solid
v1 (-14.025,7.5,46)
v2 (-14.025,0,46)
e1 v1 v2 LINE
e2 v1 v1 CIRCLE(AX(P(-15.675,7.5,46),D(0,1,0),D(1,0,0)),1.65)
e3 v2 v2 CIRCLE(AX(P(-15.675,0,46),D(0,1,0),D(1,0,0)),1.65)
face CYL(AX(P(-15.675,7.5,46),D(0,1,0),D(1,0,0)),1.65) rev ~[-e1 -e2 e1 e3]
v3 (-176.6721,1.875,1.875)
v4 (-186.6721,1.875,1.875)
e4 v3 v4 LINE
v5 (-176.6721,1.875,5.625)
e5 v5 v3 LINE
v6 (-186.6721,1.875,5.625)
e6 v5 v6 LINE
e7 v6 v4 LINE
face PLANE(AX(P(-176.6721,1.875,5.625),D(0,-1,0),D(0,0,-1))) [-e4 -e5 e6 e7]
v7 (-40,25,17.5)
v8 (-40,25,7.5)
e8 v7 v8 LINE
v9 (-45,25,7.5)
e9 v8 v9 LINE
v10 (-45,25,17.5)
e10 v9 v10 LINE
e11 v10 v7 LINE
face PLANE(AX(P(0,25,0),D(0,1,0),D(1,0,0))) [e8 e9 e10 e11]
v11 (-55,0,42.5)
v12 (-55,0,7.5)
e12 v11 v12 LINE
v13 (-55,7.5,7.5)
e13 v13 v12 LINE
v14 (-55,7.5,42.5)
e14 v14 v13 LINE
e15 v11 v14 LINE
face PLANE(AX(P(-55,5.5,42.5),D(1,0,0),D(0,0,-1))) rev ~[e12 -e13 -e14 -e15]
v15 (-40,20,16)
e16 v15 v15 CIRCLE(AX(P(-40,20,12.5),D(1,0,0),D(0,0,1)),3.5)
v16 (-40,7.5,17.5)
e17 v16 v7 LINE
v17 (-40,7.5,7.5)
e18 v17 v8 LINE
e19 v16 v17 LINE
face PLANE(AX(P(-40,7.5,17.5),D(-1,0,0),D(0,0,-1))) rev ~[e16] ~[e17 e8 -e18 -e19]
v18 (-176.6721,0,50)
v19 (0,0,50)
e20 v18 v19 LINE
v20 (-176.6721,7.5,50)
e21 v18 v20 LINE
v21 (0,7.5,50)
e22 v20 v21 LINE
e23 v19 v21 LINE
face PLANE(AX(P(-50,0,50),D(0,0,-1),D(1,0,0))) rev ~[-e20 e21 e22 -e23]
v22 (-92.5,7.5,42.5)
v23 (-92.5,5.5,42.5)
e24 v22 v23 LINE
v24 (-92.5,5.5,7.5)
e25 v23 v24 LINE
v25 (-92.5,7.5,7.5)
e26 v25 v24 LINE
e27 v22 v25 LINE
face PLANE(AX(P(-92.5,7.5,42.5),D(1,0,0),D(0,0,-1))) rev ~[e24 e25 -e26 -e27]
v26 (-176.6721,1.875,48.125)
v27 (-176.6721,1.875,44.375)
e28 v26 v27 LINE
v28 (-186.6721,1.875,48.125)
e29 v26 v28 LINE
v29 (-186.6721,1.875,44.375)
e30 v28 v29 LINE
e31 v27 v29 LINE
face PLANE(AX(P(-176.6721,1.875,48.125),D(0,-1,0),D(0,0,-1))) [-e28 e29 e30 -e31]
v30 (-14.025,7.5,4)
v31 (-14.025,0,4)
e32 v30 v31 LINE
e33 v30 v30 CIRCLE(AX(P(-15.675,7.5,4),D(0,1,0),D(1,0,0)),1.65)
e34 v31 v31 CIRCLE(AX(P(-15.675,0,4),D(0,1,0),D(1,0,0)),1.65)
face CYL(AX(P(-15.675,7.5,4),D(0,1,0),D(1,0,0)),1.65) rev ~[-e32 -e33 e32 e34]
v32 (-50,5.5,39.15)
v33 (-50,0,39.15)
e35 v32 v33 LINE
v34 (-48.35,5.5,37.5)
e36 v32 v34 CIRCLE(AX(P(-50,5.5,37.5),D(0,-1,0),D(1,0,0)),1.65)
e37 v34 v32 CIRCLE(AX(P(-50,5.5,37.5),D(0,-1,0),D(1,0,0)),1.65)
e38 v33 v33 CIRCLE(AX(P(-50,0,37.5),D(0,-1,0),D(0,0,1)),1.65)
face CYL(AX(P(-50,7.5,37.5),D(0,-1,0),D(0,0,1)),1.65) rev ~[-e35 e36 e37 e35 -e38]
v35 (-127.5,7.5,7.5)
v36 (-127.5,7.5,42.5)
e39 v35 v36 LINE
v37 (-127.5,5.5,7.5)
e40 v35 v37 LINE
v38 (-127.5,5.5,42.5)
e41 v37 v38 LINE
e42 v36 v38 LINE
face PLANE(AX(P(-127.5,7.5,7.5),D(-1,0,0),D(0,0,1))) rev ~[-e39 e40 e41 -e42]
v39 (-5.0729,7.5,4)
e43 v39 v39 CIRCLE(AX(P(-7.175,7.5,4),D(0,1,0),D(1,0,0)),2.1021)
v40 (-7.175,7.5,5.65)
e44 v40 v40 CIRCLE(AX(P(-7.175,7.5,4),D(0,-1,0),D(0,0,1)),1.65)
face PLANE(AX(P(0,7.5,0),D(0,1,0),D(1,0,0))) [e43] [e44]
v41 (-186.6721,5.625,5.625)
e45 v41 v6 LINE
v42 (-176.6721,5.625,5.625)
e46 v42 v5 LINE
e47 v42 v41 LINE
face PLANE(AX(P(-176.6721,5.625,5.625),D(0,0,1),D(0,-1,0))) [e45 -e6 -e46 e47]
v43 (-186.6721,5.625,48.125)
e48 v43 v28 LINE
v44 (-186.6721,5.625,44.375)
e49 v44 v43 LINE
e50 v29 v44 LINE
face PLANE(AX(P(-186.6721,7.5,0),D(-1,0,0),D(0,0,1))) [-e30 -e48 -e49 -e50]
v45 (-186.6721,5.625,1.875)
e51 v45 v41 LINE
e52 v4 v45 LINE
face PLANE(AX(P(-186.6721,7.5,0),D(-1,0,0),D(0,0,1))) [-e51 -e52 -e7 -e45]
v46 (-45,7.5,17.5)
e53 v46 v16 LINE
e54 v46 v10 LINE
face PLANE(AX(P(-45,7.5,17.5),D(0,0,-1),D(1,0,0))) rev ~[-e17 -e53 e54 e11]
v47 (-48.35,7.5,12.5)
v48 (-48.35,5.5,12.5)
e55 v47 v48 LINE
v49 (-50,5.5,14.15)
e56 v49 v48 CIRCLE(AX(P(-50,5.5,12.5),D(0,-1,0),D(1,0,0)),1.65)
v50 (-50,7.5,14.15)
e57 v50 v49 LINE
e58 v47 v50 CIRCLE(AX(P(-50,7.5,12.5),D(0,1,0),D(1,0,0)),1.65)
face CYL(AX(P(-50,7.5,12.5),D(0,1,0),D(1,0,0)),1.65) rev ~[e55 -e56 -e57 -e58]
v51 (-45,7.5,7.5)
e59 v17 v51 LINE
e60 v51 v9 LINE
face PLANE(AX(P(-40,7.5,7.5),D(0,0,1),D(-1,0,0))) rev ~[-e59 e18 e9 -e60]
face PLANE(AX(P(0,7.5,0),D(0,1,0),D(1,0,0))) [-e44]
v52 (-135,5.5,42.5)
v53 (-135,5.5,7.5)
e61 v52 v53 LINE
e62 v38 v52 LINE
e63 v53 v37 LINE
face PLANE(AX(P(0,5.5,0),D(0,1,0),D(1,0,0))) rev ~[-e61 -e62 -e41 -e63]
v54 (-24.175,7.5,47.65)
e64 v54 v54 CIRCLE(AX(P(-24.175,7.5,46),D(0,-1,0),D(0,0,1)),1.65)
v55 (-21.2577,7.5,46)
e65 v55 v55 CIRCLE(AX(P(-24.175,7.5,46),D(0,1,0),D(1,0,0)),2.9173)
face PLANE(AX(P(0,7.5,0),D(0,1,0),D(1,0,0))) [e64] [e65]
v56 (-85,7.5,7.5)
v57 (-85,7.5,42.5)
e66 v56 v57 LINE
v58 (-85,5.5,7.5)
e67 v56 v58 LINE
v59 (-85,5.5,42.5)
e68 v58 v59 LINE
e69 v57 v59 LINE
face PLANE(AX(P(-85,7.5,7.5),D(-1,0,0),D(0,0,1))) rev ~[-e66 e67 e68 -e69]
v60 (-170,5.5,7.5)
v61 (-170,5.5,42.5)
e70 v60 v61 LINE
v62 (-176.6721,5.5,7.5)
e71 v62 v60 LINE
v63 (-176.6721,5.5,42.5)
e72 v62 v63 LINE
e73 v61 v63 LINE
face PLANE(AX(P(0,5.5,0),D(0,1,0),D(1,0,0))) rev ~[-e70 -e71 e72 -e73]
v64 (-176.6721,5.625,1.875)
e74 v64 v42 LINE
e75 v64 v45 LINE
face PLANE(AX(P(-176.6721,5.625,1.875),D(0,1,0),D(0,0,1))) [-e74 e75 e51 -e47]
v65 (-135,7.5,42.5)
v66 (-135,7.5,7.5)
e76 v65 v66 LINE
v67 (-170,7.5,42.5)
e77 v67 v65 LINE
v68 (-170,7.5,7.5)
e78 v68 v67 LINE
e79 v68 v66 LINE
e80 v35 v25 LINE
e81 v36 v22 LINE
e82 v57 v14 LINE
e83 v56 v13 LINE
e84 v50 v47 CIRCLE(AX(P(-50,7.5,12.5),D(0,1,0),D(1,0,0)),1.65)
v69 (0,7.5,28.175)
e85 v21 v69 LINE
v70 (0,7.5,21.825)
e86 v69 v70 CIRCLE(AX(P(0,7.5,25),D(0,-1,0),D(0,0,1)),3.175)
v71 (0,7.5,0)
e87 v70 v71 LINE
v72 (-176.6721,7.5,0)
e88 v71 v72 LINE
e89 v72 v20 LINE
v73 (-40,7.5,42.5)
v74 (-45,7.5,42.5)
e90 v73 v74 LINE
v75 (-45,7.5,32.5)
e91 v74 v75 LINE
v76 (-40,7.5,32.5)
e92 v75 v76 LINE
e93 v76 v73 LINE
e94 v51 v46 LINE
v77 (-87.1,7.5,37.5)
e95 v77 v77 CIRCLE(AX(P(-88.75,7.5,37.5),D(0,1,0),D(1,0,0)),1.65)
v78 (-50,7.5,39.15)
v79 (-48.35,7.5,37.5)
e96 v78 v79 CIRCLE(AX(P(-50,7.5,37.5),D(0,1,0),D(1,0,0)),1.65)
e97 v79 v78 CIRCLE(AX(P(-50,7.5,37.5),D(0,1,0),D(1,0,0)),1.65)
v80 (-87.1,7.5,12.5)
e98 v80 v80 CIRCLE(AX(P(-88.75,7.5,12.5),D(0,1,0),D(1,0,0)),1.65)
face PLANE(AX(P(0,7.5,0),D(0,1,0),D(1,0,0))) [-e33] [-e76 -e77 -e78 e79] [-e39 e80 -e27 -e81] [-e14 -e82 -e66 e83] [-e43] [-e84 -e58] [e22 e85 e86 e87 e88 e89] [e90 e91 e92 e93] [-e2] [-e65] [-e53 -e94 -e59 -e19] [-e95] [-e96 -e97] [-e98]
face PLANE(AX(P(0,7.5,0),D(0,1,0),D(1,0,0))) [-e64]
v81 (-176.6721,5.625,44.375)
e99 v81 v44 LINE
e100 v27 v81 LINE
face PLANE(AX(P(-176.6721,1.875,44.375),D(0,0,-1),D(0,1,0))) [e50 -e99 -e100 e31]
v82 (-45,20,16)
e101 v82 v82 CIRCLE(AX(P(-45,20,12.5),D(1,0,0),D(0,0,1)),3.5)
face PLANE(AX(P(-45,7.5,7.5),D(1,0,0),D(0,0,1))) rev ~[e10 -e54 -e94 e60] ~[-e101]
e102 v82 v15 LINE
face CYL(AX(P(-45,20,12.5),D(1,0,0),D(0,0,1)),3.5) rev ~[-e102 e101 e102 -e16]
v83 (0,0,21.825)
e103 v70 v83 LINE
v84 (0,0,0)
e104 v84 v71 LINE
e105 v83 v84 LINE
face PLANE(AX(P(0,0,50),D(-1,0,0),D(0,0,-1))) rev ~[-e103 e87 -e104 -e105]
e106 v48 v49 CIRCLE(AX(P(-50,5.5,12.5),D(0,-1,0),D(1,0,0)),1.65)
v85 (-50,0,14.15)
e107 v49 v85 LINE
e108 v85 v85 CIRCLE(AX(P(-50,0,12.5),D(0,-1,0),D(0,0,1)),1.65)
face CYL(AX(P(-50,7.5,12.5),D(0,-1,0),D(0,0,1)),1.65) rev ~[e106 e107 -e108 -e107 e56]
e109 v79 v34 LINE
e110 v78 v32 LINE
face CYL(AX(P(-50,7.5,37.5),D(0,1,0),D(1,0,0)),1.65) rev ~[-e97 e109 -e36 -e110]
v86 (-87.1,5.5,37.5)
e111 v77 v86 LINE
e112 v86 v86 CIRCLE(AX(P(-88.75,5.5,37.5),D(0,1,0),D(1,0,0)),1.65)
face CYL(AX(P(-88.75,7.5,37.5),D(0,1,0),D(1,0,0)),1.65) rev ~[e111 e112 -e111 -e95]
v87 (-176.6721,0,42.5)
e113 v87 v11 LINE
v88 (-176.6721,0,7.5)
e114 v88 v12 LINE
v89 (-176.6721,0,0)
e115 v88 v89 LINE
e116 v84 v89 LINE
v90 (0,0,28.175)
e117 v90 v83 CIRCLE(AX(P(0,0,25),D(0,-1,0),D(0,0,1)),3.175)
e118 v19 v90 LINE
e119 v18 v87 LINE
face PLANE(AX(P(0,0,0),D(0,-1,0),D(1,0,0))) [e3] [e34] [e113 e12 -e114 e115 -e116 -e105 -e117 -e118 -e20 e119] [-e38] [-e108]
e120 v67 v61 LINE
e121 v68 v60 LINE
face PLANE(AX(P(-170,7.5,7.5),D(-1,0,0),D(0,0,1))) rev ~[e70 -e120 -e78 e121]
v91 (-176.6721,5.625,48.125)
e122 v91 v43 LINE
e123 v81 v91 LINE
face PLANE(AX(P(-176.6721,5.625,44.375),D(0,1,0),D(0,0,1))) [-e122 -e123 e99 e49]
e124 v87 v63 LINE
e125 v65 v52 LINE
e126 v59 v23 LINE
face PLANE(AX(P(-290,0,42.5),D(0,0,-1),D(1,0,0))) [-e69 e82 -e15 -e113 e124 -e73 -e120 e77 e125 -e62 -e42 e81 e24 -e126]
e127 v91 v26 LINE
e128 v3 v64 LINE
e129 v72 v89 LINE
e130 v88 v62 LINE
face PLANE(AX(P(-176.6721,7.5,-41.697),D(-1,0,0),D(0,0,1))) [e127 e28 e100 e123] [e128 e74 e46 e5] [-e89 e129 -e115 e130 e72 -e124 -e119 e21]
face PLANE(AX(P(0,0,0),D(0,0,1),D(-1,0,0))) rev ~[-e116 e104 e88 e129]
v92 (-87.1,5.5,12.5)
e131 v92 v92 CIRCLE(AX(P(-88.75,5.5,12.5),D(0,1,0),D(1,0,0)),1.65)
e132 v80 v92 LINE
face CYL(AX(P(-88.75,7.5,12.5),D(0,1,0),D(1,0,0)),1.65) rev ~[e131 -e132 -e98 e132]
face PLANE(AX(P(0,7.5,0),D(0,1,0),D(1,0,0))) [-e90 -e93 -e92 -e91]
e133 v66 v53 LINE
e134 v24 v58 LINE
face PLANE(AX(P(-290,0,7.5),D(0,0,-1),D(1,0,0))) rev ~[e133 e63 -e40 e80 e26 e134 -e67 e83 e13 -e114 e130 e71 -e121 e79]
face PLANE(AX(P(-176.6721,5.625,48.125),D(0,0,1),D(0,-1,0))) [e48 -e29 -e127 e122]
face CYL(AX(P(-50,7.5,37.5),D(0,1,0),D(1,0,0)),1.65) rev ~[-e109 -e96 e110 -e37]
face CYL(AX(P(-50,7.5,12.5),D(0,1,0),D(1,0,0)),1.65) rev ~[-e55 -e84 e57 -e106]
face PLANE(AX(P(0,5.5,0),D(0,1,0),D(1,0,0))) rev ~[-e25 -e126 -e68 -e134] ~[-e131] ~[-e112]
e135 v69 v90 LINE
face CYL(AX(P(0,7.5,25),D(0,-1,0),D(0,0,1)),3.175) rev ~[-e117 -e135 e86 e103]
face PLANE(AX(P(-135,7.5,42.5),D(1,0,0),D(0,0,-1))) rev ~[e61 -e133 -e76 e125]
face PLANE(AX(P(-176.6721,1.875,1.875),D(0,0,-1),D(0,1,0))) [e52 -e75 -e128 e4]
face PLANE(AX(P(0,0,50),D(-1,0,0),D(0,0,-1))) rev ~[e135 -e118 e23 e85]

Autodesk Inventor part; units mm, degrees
ref_plane "YZ Plane" through (0, 0, 0) normal (1, 0, 0) x (0, 1, 0)
ref_plane "XZ Plane" through (0, 0, 0) normal (0, 1, 0) x (-1, 0, 0)
ref_plane "XY Plane" through (0, 0, 0) normal (0, 0, 1) x (1, 0, 0)
sketch "Sketch1" plane through (0, 0, 0) normal (0, 1, 0) x (-1, 0, 0)
  line L0 (0, 0) -> (50, 0)
  line L1 (50, 0) -> (50, 50)
  line L2 (50, 50) -> (0, 50)
  line L3 (0, 50) -> (0, 0)
  line L4 (50, 50) -> (290, 50)
  line L5 (290, 50) -> (290, 42.5)
  line L6 (290, 42.5) -> (50, 42.5)
  line L7 (50, 42.5) -> (50, 50)
  line L8 (50, 0) -> (290, 0)
  line L9 (290, 0) -> (290, 7.5)
  line L10 (290, 7.5) -> (50, 7.5)
  line L11 (50, 7.5) -> (50, 0)
  dimension "d0" = 50
  dimension "d1" = 50
  dimension "d2" = 240
  dimension "d3" = 7.5
  dimension "d4" = 7.5
extrude "Extrusion1" add sketch "Sketch1" along normal blind 7.5
sketch "Sketch2" plane through (0, 7.5, 0) normal (0, 1, 0) x (1, 0, 0)
  line L0 (0, -50) -> (0, 0) projected
  point P0 (0, -25)
hole "Hole1" at (0, 7.5, 25) direction (0, -1, 0) diameter 6.35 end through all
sketch "Sketch3" plane through (0, 7.5, 0) normal (0, 1, 0) x (1, 0, 0)
  line L0 (-3.175, -50) -> (-3.175, 0) construction
  line L1 (-3.175, -50) -> (-28.175, -50) construction
  line L2 (-28.175, -50) -> (-28.175, 0) construction
  line L3 (-28.175, 0) -> (-3.175, 0) construction
  point P0 (0, 0)
  point P1 (-7.175, -4)
  point P2 (-24.175, -46)
  dimension "d14" = 25
hole "Hole2" at (-7.175, 7.5, 4) at (-24.175, 7.5, 46) direction (0, -1, 0) diameter 3.3 end through all
sketch "Sketch4" plane through (0, 7.5, 0) normal (0, 1, 0) x (1, 0, 0)
  arc A0 (0, -21.825) -> (0, -28.175) centre (0, -25) ccw construction
  line L0 (-3.175, -25) -> (-28.175, -25) construction
  line L1 (-3.175, -25) -> (21.825, -25) construction
  line L2 (-290, -50) -> (0, -50) construction
  line L3 (-28.175, -50) -> (-28.175, 0) construction
  line L4 (-50, -7.5) -> (-50, -42.5) construction
  line L5 (-50, -42.5) -> (-45, -42.5) construction
  line L6 (-45, -42.5) -> (-45, -32.5) construction
  line L7 (-45, -32.5) -> (-50, -32.5) construction
  line L8 (-50, -32.5) -> (-50, -42.5) construction
  line L9 (-45, -32.5) -> (-40, -32.5)
  line L10 (-40, -32.5) -> (-40, -42.5)
  line L11 (-40, -42.5) -> (-45, -42.5)
  line L12 (-45, -42.5) -> (-45, -32.5)
  point P0 (0, 0)
  dimension "d22" = 25
  dimension "d23" = 180
  dimension "d24" = 5
  dimension "d25" = 10
  dimension "d26" = 5
extrude "Extrusion2" add sketch "Sketch4" along normal blind 17.5
sketch "Sketch5" plane through (0, 7.5, 0) normal (0, 1, 0) x (1, 0, 0)
  line L0 (-85, -7.5) -> (-85, -42.5)
  line L1 (-127.5, -7.5) -> (-127.5, -42.5)
  line L2 (-92.5, -42.5) -> (-92.5, -7.5)
  line L3 (-135, -7.5) -> (-170, -7.5) construction
  line L4 (-170, -7.5) -> (-170, -42.5) construction
  line L5 (-170, -42.5) -> (-135, -42.5) construction
  line L6 (-135, -42.5) -> (-135, -7.5) construction
  line L7 (-177.5, -7.5) -> (-212.5, -7.5) construction
  line L8 (-212.5, -7.5) -> (-212.5, -42.5) construction
  line L9 (-212.5, -42.5) -> (-177.5, -42.5) construction
  line L10 (-177.5, -42.5) -> (-177.5, -7.5) construction
  line L11 (-220, -7.5) -> (-255, -7.5) construction
  line L12 (-255, -7.5) -> (-255, -42.5) construction
  line L13 (-255, -42.5) -> (-220, -42.5) construction
  line L14 (-220, -42.5) -> (-220, -7.5) construction
  line L15 (-85, -7.5) -> (-92.5, -7.5) construction
  line L16 (-92.5, -7.5) -> (-92.5, -42.5) construction
  line L17 (-92.5, -42.5) -> (-85, -42.5) construction
  line L18 (-85, -42.5) -> (-85, -7.5) construction
  line L19 (-127.5, -7.5) -> (-135, -7.5) construction
  line L20 (-135, -7.5) -> (-135, -42.5) construction
  line L21 (-135, -42.5) -> (-127.5, -42.5) construction
  line L22 (-127.5, -42.5) -> (-127.5, -7.5) construction
  line L23 (-170, -7.5) -> (-177.5, -7.5) construction
  line L24 (-177.5, -7.5) -> (-177.5, -42.5) construction
  line L25 (-177.5, -42.5) -> (-170, -42.5) construction
  line L26 (-170, -42.5) -> (-170, -7.5) construction
  line L27 (-212.5, -7.5) -> (-220, -7.5) construction
  line L28 (-220, -7.5) -> (-220, -42.5) construction
  line L29 (-220, -42.5) -> (-212.5, -42.5) construction
  line L30 (-212.5, -42.5) -> (-212.5, -7.5) construction
  line L31 (-220, -7.5) -> (-212.5, -7.5)
  line L32 (-212.5, -7.5) -> (-212.5, -42.5)
  line L33 (-212.5, -42.5) -> (-220, -42.5)
  line L34 (-220, -42.5) -> (-220, -7.5)
  line L35 (-177.5, -7.5) -> (-170, -7.5)
  line L36 (-170, -7.5) -> (-170, -42.5)
  line L37 (-170, -42.5) -> (-177.5, -42.5)
  line L38 (-177.5, -42.5) -> (-177.5, -7.5)
  line L39 (-135, -7.5) -> (-127.5, -7.5)
  line L40 (-127.5, -7.5) -> (-127.5, -42.5)
  line L41 (-127.5, -42.5) -> (-135, -42.5)
  line L42 (-135, -42.5) -> (-135, -7.5)
  line L43 (-92.5, -7.5) -> (-85, -7.5)
  line L44 (-85, -7.5) -> (-85, -42.5)
  line L45 (-85, -42.5) -> (-92.5, -42.5)
  line L46 (-92.5, -42.5) -> (-92.5, -7.5)
  point P0 (0, 0)
  point P1 (-50, -7.5)
  dimension "d30" = 35
  dimension "d31" = 35
  dimension "d32" = 35
  dimension "d33" = 35
  dimension "d34" = 35
  dimension "d35" = 35
extrude "Extrusion3" add sketch "Sketch5" against normal blind 2
sketch "Sketch6" plane through (0, 7.5, 0) normal (0, 1, 0) x (1, 0, 0)
  line L0 (-290, 0) -> (-290, -7.5) projected
  line L1 (-290, -50) -> (0, -50) projected
  line L2 (-290, 0) -> (-280, 0)
  line L3 (-280, 0) -> (-280, -50)
  line L4 (-280, -50) -> (-290, -50)
  line L5 (-290, -50) -> (-290, 0)
  point P0 (0, 0)
  dimension "d38" = 10
extrude "Extrusion4" cut sketch "Sketch6" against normal blind 7.5
sketch "Sketch7" plane through (-280, 7.5, 0) normal (-1, 0, 0) x (0, 0, 1)
  point P0 (0, -7.5)
sketch "Sketch8" plane through (-280, 7.5, 0) normal (-1, 0, 0) x (0, 0, 1)
  line L0 (-25, 0) -> (75, 0)
  line L1 (75, 0) -> (75, -7.5)
  line L2 (75, -7.5) -> (-25, -7.5)
  line L3 (-25, -7.5) -> (-25, 0)
  line L4 (-25, 0) -> (75, 0)
  line L5 (75, 0) -> (75, -10)
  line L6 (75, -10) -> (-25, -10)
  line L7 (-25, -10) -> (-25, 0)
  point P0 (0, -7.5)
  dimension "d41" = 100
  dimension "d42" = 10
extrude "Extrusion5" add sketch "Sketch8" along normal blind 7.5
sketch "Sketch9" plane through (-287.5, 7.5, 0) normal (-1, 0, 0) x (0, 0, 1)
  line L0 (75, 0) -> (-25, 0) projected
  line L1 (-25, -10) -> (75, -10) projected
  line L2 (-25, 0) -> (-17.5, 0)
  line L3 (-17.5, 0) -> (-17.5, -10)
  line L4 (-17.5, -10) -> (-25, -10)
  line L5 (-25, -10) -> (-25, 0)
  line L6 (75, 0) -> (67.5, 0)
  line L7 (67.5, 0) -> (67.5, -10)
  line L8 (67.5, -10) -> (75, -10)
  line L9 (75, -10) -> (75, 0)
  point P0 (0, -7.5)
  dimension "d45" = 7.5
  dimension "d46" = 7.5
extrude "Extrusion6" add sketch "Sketch9" along normal blind 25 contours L9 L1 L7 L0 | L3 L1 L5 L0
sketch "Sketch10" plane through (-287.5, -2.5, -17.5) normal (0, 0, 1) x (1, 0, 0)
  line L0 (0, 0) -> (-25, 0) construction
  line L1 (0, 0) -> (-3, 0) construction
  line L2 (-3, 0) -> (-6.2, 0)
  line L3 (-6.2, 0) -> (-6.2, 2.1)
  line L4 (-6.2, 2.1) -> (-3, 2.1)
  line L5 (-3, 2.1) -> (-3, 0)
  line L6 (-6.2, 2.1) -> (-11.7, 2.1) construction
  line L7 (-11.7, 2.1) -> (-11.7, 5.4) construction
  point P0 (287.5, 2.5)
  dimension "d49" = 3
  dimension "d50" = 3.2
  dimension "d51" = 2.1
  dimension "d52" = 5.5
  dimension "d53" = 3.3
extrude "Extrusion7" add sketch "Sketch10" along normal blind 92.5
sketch "Sketch11" plane through (-287.5, -2.5, -17.5) normal (0, 0, 1) x (1, 0, 0)
  line L0 (-6.2, 2.1) -> (-3, 2.1) construction
  line L1 (-6.2, 2.1) -> (-11.7, 2.1) construction
  line L2 (-11.7, 2.1) -> (-11.7, 5.4) construction
  circle A0 centre (-11.7, 5.4) radius 2.125
  point P0 (287.5, 2.5)
  dimension "d56" = 5.5
  dimension "d57" = 3.3
  dimension "d58" = 4.25
extrude "Extrusion8" cut sketch "Sketch11" along normal mid plane 241
sketch "Sketch12" plane through (-287.5, -2.5, -17.5) normal (0, 0, 1) x (1, 0, 0)
  circle A0 centre (-11.7, 5.4) radius 2.125 construction
  line L0 (-11.7, 5.4) -> (-11.7, 0.96) construction
  line L1 (-11.7, 0.96) -> (-16.7, 0.96) construction
  line L2 (-6.2, 0) -> (-25, 0) projected
  line L3 (-16.7, 0.96) -> (-19.2, 0.96)
  line L4 (-19.2, 0.96) -> (-19.2, 0)
  line L5 (-19.2, 0) -> (-16.7, 0)
  line L6 (-16.7, 0) -> (-16.7, 0.96)
  point P0 (287.5, 2.5)
  dimension "d61" = 4.44
  dimension "d62" = 5
  dimension "d63" = 2.5
extrude "Extrusion9" add sketch "Sketch12" along normal blind 91.25
sketch "Sketch13" plane through (-293.7, -0.4, -17.5) normal (0, 1, 0) x (1, 0, 0)
  line L0 (3.2, 0) -> (3.2, -85) construction
  line L1 (3.2, 0) -> (3.2, -30) construction
  line L2 (0, 0) -> (0, -85) construction
  line L3 (3.2, -30) -> (0, -30) construction
  line L4 (0, -30) -> (0, -36.35) construction
  line L5 (0, -36.35) -> (3.2, -36.35) construction
  line L6 (3.2, -36.35) -> (3.2, -30) construction
  line L7 (0, -30) -> (3.2, -30)
  line L8 (3.2, -30) -> (3.2, -36.35)
  line L9 (3.2, -36.35) -> (0, -36.35)
  line L10 (0, -36.35) -> (0, -30)
  point P0 (293.7, -17.5)
  dimension "d66" = 30
  dimension "d67" = 6.35
extrude "Extrusion10" add sketch "Sketch13" along normal blind 3.8
sketch "Sketch14" plane through (0, 7.5, 0) normal (0, 1, 0) x (1, 0, 0)
  line L0 (-287.5, 17.5) -> (-287.5, -67.5) projected
  line L1 (-287.5, 17.5) -> (-285, 17.5)
  line L2 (-285, 17.5) -> (-285, -67.5)
  line L3 (-285, -67.5) -> (-287.5, -67.5)
  line L4 (-287.5, -67.5) -> (-287.5, 17.5)
  point P0 (0, 0)
  dimension "d70" = 2.5
extrude "Extrusion11" cut sketch "Sketch14" against normal blind 14.55
sketch "Sketch15" plane through (0, 7.5, 0) normal (0, 1, 0) x (1, 0, 0)
  line L0 (-312.5, 17.5) -> (-312.5, 25) projected
  line L1 (-280, -75) -> (-312.5, -75) projected
  line L2 (-312.5, 25) -> (-306.6488, 25)
  line L3 (-306.6488, 25) -> (-306.6488, -75)
  line L4 (-306.6488, -75) -> (-312.5, -75)
  line L5 (-312.5, -75) -> (-312.5, 25)
  point P0 (0, 0)
extrude "Extrusion12" cut sketch "Sketch15" against normal blind 14.55
fillet "Fillet1" radius 0.1 1 edges at (-301.325, 2.9, -17.5)
fillet "Fillet2" radius 0.1 1 edges at (-301.325, 2.9, 67.5)
fillet "Fillet3" radius 3.25 1 edges at (-280, 2.5, 75)
fillet "Fillet4" radius 3.25 1 edges at (-285, 2.5, 67.5)
fillet "Fillet5" radius 3.25 1 edges at (-280, 2.5, -25)
fillet "Fillet6" radius 3.25 1 edges at (-285, 2.5, -17.5)
sketch "Sketch16" plane through (0, 7.5, 0) normal (0, 1, 0) x (1, 0, 0)
  line L0 (-220, -42.5) -> (-220, -7.5) construction
  line L1 (-220, -42.5) -> (-280, -42.5) construction
  line L2 (-220, -7.5) -> (-255, -7.5) construction
  line L3 (-255, -7.5) -> (-255, -42.5) construction
  line L4 (-255, -42.5) -> (-220, -42.5) construction
  line L5 (-220, -42.5) -> (-220, -7.5) construction
  line L6 (-280, -7.5) -> (-280, 0) projected
  line L7 (-280, -7.5) -> (-270, -7.5)
  line L8 (-270, -7.5) -> (-270, -42.5)
  line L9 (-270, -42.5) -> (-280, -42.5)
  line L10 (-280, -42.5) -> (-280, -7.5)
  point P0 (0, 0)
  dimension "d81" = 35
  dimension "d82" = 10
extrude "Extrusion13" add sketch "Sketch16" against normal blind 2
sketch "Sketch17" plane through (0, 7.5, 0) normal (0, 1, 0) x (1, 0, 0)
  point P0 (0, 0)
sketch "Sketch18" plane through (0, 7.5, 0) normal (0, 1, 0) x (1, 0, 0)
  line L0 (-270, -7.5) -> (-270, -42.5) construction
  line L1 (-285, -64.25) -> (-285, 14.25) construction
  line L2 (-280, -7.5) -> (-280, 0) construction
  line L3 (-270, -7.5) -> (-280, -7.5) construction
  line L4 (-275, -7.5) -> (-275, -42.5) construction
  line L5 (-50, -42.5) -> (-280, -42.5) construction
  circle A0 centre (-275, -12.5) radius 1.8 construction
  circle A1 centre (-275, -37.5) radius 1.8 construction
  circle A2 centre (-275, -12.5) radius 1.8
  circle A3 centre (-275, -37.5) radius 1.8
  point P0 (0, 0)
  dimension "d85" = 3.6
  dimension "d86" = 3.6
hole "Hole3" at (-275, 7.5, 12.5) at (-275, 7.5, 37.5) direction (0, -1, 0) diameter 3.3 depth 15 tip angle 118
sketch "Sketch19" plane through (0, 7.5, 0) normal (0, 1, 0) x (1, 0, 0)
  circle A0 centre (-275, -12.5) radius 1.65 construction
  line L0 (-275, -12.5) -> (-212.5, -12.5) construction
  line L1 (-212.5, -7.5) -> (-212.5, -42.5) construction
  circle A1 centre (-275, -37.5) radius 1.65 construction
  line L2 (-275, -37.5) -> (-212.5, -37.5) construction
  line L3 (-220, -42.5) -> (-220, -7.5) construction
  line L4 (-220, -12.5) -> (-212.5, -12.5) construction
  line L5 (-216.25, -12.5) -> (-216.25, -37.5) construction
  point P0 (0, 0)
hole "Hole4" at (-216.25, 7.5, 12.5) at (-216.25, 7.5, 37.5) direction (0, -1, 0) diameter 3.3 depth 15 tip angle 118
sketch "Sketch20" plane through (-45, 7.5, 32.5) normal (-1, 0, 0) x (0, 0, 1)
  line L0 (10, 17.5) -> (0, 17.5) construction
  line L1 (5, 17.5) -> (5, -0.1335) construction
  line L2 (10, 0) -> (10, 17.5) construction
  line L3 (10, 12.5) -> (5, 12.5) construction
  circle A0 centre (5, 12.5) radius 3
  point P0 (-32.5, -7.5)
  dimension "d101" = 6
extrude "Extrusion14" cut sketch "Sketch20" against normal blind 20
sketch "Sketch21" plane through (0, 7.5, 0) normal (0, 1, 0) x (1, 0, 0)
  line L0 (-306.6488, 17.5) -> (-306.6488, -67.5) projected
  line L1 (-306.6488, 17.5) -> (-288.25, 17.5) projected
  line L2 (-306.6488, -67.5) -> (-288.25, -67.5)
  line L3 (-288.25, -67.5) -> (-288.25, 17.5)
  line L4 (-288.25, 17.5) -> (-306.6488, 17.5)
  line L5 (-306.6488, 17.5) -> (-306.6488, -67.5)
  point P0 (0, 0)
extrude "Extrusion15" cut sketch "Sketch21" against normal blind 10
sketch "Sketch22" plane through (0, 7.5, 0) normal (0, 1, 0) x (1, 0, 0)
  line L0 (-280, -50) -> (0, -50) projected
  line L1 (0, 0) -> (-280, 0) projected
  line L2 (-280, -50) -> (-270.5687, -50)
  line L3 (-270.5687, -50) -> (-270.5687, 0)
  line L4 (-270.5687, 0) -> (-280, 0)
  line L5 (-280, 0) -> (-280, -50)
  line L6 (-50, -42.5) -> (-280, -42.5) projected
  line L7 (-219.3019, -42.5) -> (-213.3073, -42.5)
  line L8 (-213.3073, -42.5) -> (-213.3073, -8.284)
  line L9 (-213.3073, -8.284) -> (-219.3019, -8.284)
  line L10 (-219.3019, -8.284) -> (-219.3019, -42.5)
extrude "Extrusion16" add sketch "Sketch22" against normal blind 2
sketch "Sketch23" plane through (-306.6488, -2.5, -25) normal (0, 0, -1) x (-1, 0, 0)
  circle A0 centre (-7.4488, 5.4) radius 2.125 projected
  circle A1 centre (-7.4488, 5.4) radius 2
  circle A2 centre (-7.4488, 5.4) radius 2.4429
  point P0 (-306.6488, 2.5)
  dimension "d108" = 4
extrude "Extrusion17" add sketch "Sketch23" against normal blind 100 contours A0 | A2
sketch "Sketch24" plane through (0, 7.5, 0) normal (0, 1, 0) x (1, 0, 0)
  line L0 (-288.25, -67.5) -> (-306.6488, -67.5) projected
  arc A0 (-285, 14.25) -> (-288.25, 17.5) centre (-288.25, 14.25) ccw projected
  line L1 (-306.6488, -67.5) -> (-288.25, -67.5)
  line L2 (-288.25, -67.5) -> (-288.25, 17.5)
  line L3 (-288.25, 17.5) -> (-306.6488, 17.5)
  line L4 (-306.6488, 17.5) -> (-306.6488, -67.5)
  point P0 (0, 0)
extrude "Extrusion18" cut sketch "Sketch24" against normal blind 100
sketch "Sketch25" plane through (0, 7.5, 0) normal (0, 1, 0) x (1, 0, 0)
  line L0 (-50, -42.5) -> (-280, -42.5) projected
  line L1 (-280, -7.5) -> (-50, -7.5) projected
  line L2 (-50, -42.5) -> (-55, -42.5)
  line L3 (-55, -42.5) -> (-55, -7.5)
  line L4 (-55, -7.5) -> (-50, -7.5)
  line L5 (-50, -7.5) -> (-50, -42.5)
  point P0 (0, 0)
  dimension "d113" = 5
extrude "Extrusion19" add sketch "Sketch25" against normal blind 2
sketch "Sketch26" plane through (0, 7.5, 0) normal (0, 1, 0) x (1, 0, 0)
  line L0 (-55, -42.5) -> (-85, -42.5) construction
  line L1 (-55, -42.5) -> (-50, -42.5) construction
  line L2 (-55, -42.5) -> (-50, -42.5) construction
  line L3 (-50, -42.5) -> (-50, -7.5) construction
  line L4 (-50, -42.5) -> (-50, -7.5) construction
  circle A0 centre (-50, -37.5) radius 1.65 construction
  circle A1 centre (-50, -12.5) radius 1.65 construction
  circle A2 centre (-50, -37.5) radius 1.65
  circle A3 centre (-50, -12.5) radius 1.65
  line L5 (-50, -37.5) -> (-92.5, -37.5) construction
  line L6 (-92.5, -42.5) -> (-92.5, -7.5) construction
  line L7 (-50, -12.5) -> (-92.5, -12.5) construction
  line L8 (-92.5, -37.5) -> (-85, -37.5) construction
  line L9 (-85, -7.5) -> (-85, -42.5) construction
  line L10 (-88.75, -37.5) -> (-88.75, -12.5) construction
  circle A4 centre (-88.75, -37.5) radius 1.65
  circle A5 centre (-88.75, -12.5) radius 1.65
  point P0 (0, 0)
  dimension "d116" = 3.3
  dimension "d117" = 3.3
  dimension "d118" = 3.3
  dimension "d119" = 3.3
extrude "Extrusion20" cut sketch "Sketch26" against normal blind 2
sketch "Sketch27" plane through (0, 5.5, 0) normal (0, -1, 0) x (1, 0, 0)
  line L0 (-50, 7.5) -> (-55, 7.5) projected
  line L1 (-55, 7.5) -> (-46.6169, 7.5)
  line L2 (-46.6169, 7.5) -> (-46.6169, 42.5)
  line L3 (-46.6169, 42.5) -> (-55, 42.5)
  line L4 (-55, 42.5) -> (-55, 7.5)
  point P0 (0, 0)
extrude "Extrusion21" add sketch "Sketch27" along normal blind 5.5
sketch "Sketch28" plane through (0, 7.5, 0) normal (0, 1, 0) x (1, 0, 0)
  circle A0 centre (-50, -12.5) radius 1.65 projected
  circle A1 centre (-50, -37.5) radius 1.65 projected
  point P0 (0, 0)
hole "Hole5" at (-50, 7.5, 12.5) at (-50, 7.5, 37.5) direction (0, -1, 0) diameter 3.3 depth 8 tip angle 118
sketch "Sketch29" plane through (0, 7.5, 0) normal (0, 1, 0) x (1, 0, 0)
  circle A0 centre (-7.175, -4) radius 1.65 construction
  circle A1 centre (-24.175, -46) radius 1.65 construction
  line L0 (-7.175, -4) -> (-24.175, -46) construction
  line L1 (-7.175, -4) -> (-7.175, -46) construction
  line L2 (-7.175, -46) -> (-24.175, -46) construction
  line L3 (-7.175, -25) -> (-25.825, -25) construction
  line L4 (-25.825, -25) -> (-25.825, -46) construction
  line L5 (-16.5, -25) -> (-25.825, -25) construction
  line L6 (-24.175, -46) -> (-24.175, -25) construction
  line L7 (-15.675, -46) -> (-15.675, -4) construction
  line L8 (-40, -32.5) -> (-40, -42.5) construction
  line L9 (-40, -42.5) -> (-24.175, -42.5) construction
  line L10 (-24.175, -42.5) -> (-24.175, -46) construction
  line L11 (-15.675, -25) -> (-15.675, -46) construction
  line L12 (-15.675, -46) -> (-15.675, -4) construction
  circle A2 centre (-15.675, -46) radius 1.65 construction
  circle A3 centre (-15.675, -46) radius 1.65
  circle A4 centre (-15.675, -4) radius 1.65
  point P0 (0, 0)
  dimension "d131" = 42
  dimension "d132" = 17
  dimension "d133" = 21
  dimension "d135" = 8.5
  dimension "d136" = 15.825
  dimension "d137" = 3.5
  dimension "d138" = 21
  dimension "d139" = 3.3
  dimension "d140" = 3.3
  dimension "d141" = 3.3
extrude "Extrusion22" cut sketch "Sketch29" against normal blind 10
sketch "Sketch30" plane through (0, 7.5, 0) normal (0, 1, 0) x (1, 0, 0)
  circle A0 centre (-7.175, -4) radius 1.65 projected
  circle A1 centre (-7.175, -4) radius 2.1021
  circle A2 centre (-24.175, -46) radius 1.65 projected
  circle A3 centre (-24.175, -46) radius 2.9173
  point P0 (0, 0)
extrude "Extrusion23" add sketch "Sketch30" against normal blind 7.5 contours A0 | A1 | A2 | A3
sketch "Sketch31" plane through (0, 7.5, 0) normal (0, 1, 0) x (1, 0, 0)
  line L0 (-45, -42.5) -> (-45, -32.5) construction
  circle A0 centre (-50, -37.5) radius 1.65 construction
  line L1 (-45, -37.5) -> (-50, -37.5) construction
  circle A1 centre (-50, -12.5) radius 1.65 construction
  line L2 (-50, -12.5) -> (-45, -12.5) construction
  line L3 (-40, -32.5) -> (-40, -42.5) construction
  line L4 (-40, -42.5) -> (-45, -32.5) construction
  line L5 (-45, -32.5) -> (-40, -32.5) construction
  line L6 (-40, -32.5) -> (-45, -42.5) construction
  line L7 (-50, -37.5) -> (-42.5, -37.5) construction
  line L8 (-42.5, -37.5) -> (-42.5, -12.5) construction
  line L9 (-45, -17.5) -> (-40, -17.5)
  line L10 (-40, -17.5) -> (-40, -7.5)
  line L11 (-40, -7.5) -> (-45, -7.5)
  line L12 (-45, -7.5) -> (-45, -17.5)
  line L13 (-45, -17.5) -> (-40, -7.5) construction
  line L14 (-40, -17.5) -> (-45, -7.5) construction
  point P0 (0, 0)
  dimension "d146" = 5
  dimension "d147" = 10
  dimension "d148" = 5
  dimension "d149" = 10
extrude "Extrusion24" add sketch "Sketch31" along normal blind 17.5
sketch "Sketch32" plane through (-45, 7.5, 7.5) normal (-1, 0, 0) x (0, 0, 1)
  line L0 (10, 17.5) -> (0, 17.5) construction
  line L1 (5, 17.5) -> (5, 12.5) construction
  point P0 (-7.5, -7.5)
  dimension "d152" = 5
hole "Hole6" at (-45, 20, 12.5) direction (1, 0, 0) diameter 7 depth 8 tip angle 118
sketch "Sketch33" plane through (0, 25, 0) normal (0, 1, 0) x (1, 0, 0)
  line L0 (-45, -32.5) -> (-40, -32.5) projected
  line L1 (-40, -32.5) -> (-40, -42.5) projected
  line L2 (-45, -32.5) -> (-40, -32.5)
  line L3 (-40, -32.5) -> (-40, -42.5)
  line L4 (-40, -42.5) -> (-45, -42.5)
  line L5 (-45, -42.5) -> (-45, -32.5)
  point P0 (0, 0)
extrude "Extrusion25" cut sketch "Sketch33" against normal blind 17.5
sketch "Sketch34" plane through (0, 7.5, 0) normal (0, 1, 0) x (1, 0, 0)
  line L0 (-280, -50) -> (0, -50) projected
  line L1 (-176.6721, -50) -> (-309.3974, -50)
  line L2 (-309.3974, -50) -> (-309.3974, 41.697)
  line L3 (-309.3974, 41.697) -> (-176.6721, 41.697)
  line L4 (-176.6721, 41.697) -> (-176.6721, -50)
  line L5 (-176.6721, 41.697) -> (-320.285, 41.697)
  line L6 (-320.285, 41.697) -> (-320.285, -112.2851)
  line L7 (-320.285, -112.2851) -> (-176.6721, -112.2851)
  line L8 (-176.6721, -112.2851) -> (-176.6721, 41.697)
  point P0 (0, 0)
extrude "Extrusion26" cut sketch "Sketch34" against normal blind 170.5
sketch "Sketch35" plane through (-176.6721, 7.5, 0) normal (-1, 0, 0) x (0, 0, 1)
  line L0 (42.5, -7.5) -> (7.5, -7.5) construction
  line L1 (0, 0) -> (7.5, -7.5) construction
  line L2 (7.5, -7.5) -> (7.5, 0) construction
  line L3 (21.825, -7.5) -> (0, -7.5) construction
  line L4 (7.5, 0) -> (0, -7.5) construction
  line L5 (5.625, -5.625) -> (1.875, -5.625)
  line L6 (1.875, -5.625) -> (1.875, -1.875)
  line L7 (1.875, -1.875) -> (5.625, -1.875)
  line L8 (5.625, -1.875) -> (5.625, -5.625)
  line L9 (5.625, -5.625) -> (1.875, -1.875) construction
  line L10 (1.875, -5.625) -> (5.625, -1.875) construction
  line L11 (42.5, -7.5) -> (50, 0) construction
  line L12 (50, 0) -> (50, -7.5) construction
  line L13 (50, -7.5) -> (42.5, 0) construction
  line L14 (0, 0) -> (50, 0) construction
  line L15 (48.125, -5.625) -> (44.375, -5.625)
  line L16 (44.375, -5.625) -> (44.375, -1.875)
  line L17 (44.375, -1.875) -> (48.125, -1.875)
  line L18 (48.125, -1.875) -> (48.125, -5.625)
  line L19 (48.125, -5.625) -> (44.375, -1.875) construction
  line L20 (44.375, -5.625) -> (48.125, -1.875) construction
  point P0 (3.75, -3.75)
  point P1 (46.25, -3.75)
  dimension "d164" = 3.75
  dimension "d165" = 3.75
  dimension "d166" = 3.75
  dimension "d167" = 3.75
extrude "Extrusion27" add sketch "Sketch35" along normal blind 10
properties part number "mtv_frame(BrakeInBack)1-13"
